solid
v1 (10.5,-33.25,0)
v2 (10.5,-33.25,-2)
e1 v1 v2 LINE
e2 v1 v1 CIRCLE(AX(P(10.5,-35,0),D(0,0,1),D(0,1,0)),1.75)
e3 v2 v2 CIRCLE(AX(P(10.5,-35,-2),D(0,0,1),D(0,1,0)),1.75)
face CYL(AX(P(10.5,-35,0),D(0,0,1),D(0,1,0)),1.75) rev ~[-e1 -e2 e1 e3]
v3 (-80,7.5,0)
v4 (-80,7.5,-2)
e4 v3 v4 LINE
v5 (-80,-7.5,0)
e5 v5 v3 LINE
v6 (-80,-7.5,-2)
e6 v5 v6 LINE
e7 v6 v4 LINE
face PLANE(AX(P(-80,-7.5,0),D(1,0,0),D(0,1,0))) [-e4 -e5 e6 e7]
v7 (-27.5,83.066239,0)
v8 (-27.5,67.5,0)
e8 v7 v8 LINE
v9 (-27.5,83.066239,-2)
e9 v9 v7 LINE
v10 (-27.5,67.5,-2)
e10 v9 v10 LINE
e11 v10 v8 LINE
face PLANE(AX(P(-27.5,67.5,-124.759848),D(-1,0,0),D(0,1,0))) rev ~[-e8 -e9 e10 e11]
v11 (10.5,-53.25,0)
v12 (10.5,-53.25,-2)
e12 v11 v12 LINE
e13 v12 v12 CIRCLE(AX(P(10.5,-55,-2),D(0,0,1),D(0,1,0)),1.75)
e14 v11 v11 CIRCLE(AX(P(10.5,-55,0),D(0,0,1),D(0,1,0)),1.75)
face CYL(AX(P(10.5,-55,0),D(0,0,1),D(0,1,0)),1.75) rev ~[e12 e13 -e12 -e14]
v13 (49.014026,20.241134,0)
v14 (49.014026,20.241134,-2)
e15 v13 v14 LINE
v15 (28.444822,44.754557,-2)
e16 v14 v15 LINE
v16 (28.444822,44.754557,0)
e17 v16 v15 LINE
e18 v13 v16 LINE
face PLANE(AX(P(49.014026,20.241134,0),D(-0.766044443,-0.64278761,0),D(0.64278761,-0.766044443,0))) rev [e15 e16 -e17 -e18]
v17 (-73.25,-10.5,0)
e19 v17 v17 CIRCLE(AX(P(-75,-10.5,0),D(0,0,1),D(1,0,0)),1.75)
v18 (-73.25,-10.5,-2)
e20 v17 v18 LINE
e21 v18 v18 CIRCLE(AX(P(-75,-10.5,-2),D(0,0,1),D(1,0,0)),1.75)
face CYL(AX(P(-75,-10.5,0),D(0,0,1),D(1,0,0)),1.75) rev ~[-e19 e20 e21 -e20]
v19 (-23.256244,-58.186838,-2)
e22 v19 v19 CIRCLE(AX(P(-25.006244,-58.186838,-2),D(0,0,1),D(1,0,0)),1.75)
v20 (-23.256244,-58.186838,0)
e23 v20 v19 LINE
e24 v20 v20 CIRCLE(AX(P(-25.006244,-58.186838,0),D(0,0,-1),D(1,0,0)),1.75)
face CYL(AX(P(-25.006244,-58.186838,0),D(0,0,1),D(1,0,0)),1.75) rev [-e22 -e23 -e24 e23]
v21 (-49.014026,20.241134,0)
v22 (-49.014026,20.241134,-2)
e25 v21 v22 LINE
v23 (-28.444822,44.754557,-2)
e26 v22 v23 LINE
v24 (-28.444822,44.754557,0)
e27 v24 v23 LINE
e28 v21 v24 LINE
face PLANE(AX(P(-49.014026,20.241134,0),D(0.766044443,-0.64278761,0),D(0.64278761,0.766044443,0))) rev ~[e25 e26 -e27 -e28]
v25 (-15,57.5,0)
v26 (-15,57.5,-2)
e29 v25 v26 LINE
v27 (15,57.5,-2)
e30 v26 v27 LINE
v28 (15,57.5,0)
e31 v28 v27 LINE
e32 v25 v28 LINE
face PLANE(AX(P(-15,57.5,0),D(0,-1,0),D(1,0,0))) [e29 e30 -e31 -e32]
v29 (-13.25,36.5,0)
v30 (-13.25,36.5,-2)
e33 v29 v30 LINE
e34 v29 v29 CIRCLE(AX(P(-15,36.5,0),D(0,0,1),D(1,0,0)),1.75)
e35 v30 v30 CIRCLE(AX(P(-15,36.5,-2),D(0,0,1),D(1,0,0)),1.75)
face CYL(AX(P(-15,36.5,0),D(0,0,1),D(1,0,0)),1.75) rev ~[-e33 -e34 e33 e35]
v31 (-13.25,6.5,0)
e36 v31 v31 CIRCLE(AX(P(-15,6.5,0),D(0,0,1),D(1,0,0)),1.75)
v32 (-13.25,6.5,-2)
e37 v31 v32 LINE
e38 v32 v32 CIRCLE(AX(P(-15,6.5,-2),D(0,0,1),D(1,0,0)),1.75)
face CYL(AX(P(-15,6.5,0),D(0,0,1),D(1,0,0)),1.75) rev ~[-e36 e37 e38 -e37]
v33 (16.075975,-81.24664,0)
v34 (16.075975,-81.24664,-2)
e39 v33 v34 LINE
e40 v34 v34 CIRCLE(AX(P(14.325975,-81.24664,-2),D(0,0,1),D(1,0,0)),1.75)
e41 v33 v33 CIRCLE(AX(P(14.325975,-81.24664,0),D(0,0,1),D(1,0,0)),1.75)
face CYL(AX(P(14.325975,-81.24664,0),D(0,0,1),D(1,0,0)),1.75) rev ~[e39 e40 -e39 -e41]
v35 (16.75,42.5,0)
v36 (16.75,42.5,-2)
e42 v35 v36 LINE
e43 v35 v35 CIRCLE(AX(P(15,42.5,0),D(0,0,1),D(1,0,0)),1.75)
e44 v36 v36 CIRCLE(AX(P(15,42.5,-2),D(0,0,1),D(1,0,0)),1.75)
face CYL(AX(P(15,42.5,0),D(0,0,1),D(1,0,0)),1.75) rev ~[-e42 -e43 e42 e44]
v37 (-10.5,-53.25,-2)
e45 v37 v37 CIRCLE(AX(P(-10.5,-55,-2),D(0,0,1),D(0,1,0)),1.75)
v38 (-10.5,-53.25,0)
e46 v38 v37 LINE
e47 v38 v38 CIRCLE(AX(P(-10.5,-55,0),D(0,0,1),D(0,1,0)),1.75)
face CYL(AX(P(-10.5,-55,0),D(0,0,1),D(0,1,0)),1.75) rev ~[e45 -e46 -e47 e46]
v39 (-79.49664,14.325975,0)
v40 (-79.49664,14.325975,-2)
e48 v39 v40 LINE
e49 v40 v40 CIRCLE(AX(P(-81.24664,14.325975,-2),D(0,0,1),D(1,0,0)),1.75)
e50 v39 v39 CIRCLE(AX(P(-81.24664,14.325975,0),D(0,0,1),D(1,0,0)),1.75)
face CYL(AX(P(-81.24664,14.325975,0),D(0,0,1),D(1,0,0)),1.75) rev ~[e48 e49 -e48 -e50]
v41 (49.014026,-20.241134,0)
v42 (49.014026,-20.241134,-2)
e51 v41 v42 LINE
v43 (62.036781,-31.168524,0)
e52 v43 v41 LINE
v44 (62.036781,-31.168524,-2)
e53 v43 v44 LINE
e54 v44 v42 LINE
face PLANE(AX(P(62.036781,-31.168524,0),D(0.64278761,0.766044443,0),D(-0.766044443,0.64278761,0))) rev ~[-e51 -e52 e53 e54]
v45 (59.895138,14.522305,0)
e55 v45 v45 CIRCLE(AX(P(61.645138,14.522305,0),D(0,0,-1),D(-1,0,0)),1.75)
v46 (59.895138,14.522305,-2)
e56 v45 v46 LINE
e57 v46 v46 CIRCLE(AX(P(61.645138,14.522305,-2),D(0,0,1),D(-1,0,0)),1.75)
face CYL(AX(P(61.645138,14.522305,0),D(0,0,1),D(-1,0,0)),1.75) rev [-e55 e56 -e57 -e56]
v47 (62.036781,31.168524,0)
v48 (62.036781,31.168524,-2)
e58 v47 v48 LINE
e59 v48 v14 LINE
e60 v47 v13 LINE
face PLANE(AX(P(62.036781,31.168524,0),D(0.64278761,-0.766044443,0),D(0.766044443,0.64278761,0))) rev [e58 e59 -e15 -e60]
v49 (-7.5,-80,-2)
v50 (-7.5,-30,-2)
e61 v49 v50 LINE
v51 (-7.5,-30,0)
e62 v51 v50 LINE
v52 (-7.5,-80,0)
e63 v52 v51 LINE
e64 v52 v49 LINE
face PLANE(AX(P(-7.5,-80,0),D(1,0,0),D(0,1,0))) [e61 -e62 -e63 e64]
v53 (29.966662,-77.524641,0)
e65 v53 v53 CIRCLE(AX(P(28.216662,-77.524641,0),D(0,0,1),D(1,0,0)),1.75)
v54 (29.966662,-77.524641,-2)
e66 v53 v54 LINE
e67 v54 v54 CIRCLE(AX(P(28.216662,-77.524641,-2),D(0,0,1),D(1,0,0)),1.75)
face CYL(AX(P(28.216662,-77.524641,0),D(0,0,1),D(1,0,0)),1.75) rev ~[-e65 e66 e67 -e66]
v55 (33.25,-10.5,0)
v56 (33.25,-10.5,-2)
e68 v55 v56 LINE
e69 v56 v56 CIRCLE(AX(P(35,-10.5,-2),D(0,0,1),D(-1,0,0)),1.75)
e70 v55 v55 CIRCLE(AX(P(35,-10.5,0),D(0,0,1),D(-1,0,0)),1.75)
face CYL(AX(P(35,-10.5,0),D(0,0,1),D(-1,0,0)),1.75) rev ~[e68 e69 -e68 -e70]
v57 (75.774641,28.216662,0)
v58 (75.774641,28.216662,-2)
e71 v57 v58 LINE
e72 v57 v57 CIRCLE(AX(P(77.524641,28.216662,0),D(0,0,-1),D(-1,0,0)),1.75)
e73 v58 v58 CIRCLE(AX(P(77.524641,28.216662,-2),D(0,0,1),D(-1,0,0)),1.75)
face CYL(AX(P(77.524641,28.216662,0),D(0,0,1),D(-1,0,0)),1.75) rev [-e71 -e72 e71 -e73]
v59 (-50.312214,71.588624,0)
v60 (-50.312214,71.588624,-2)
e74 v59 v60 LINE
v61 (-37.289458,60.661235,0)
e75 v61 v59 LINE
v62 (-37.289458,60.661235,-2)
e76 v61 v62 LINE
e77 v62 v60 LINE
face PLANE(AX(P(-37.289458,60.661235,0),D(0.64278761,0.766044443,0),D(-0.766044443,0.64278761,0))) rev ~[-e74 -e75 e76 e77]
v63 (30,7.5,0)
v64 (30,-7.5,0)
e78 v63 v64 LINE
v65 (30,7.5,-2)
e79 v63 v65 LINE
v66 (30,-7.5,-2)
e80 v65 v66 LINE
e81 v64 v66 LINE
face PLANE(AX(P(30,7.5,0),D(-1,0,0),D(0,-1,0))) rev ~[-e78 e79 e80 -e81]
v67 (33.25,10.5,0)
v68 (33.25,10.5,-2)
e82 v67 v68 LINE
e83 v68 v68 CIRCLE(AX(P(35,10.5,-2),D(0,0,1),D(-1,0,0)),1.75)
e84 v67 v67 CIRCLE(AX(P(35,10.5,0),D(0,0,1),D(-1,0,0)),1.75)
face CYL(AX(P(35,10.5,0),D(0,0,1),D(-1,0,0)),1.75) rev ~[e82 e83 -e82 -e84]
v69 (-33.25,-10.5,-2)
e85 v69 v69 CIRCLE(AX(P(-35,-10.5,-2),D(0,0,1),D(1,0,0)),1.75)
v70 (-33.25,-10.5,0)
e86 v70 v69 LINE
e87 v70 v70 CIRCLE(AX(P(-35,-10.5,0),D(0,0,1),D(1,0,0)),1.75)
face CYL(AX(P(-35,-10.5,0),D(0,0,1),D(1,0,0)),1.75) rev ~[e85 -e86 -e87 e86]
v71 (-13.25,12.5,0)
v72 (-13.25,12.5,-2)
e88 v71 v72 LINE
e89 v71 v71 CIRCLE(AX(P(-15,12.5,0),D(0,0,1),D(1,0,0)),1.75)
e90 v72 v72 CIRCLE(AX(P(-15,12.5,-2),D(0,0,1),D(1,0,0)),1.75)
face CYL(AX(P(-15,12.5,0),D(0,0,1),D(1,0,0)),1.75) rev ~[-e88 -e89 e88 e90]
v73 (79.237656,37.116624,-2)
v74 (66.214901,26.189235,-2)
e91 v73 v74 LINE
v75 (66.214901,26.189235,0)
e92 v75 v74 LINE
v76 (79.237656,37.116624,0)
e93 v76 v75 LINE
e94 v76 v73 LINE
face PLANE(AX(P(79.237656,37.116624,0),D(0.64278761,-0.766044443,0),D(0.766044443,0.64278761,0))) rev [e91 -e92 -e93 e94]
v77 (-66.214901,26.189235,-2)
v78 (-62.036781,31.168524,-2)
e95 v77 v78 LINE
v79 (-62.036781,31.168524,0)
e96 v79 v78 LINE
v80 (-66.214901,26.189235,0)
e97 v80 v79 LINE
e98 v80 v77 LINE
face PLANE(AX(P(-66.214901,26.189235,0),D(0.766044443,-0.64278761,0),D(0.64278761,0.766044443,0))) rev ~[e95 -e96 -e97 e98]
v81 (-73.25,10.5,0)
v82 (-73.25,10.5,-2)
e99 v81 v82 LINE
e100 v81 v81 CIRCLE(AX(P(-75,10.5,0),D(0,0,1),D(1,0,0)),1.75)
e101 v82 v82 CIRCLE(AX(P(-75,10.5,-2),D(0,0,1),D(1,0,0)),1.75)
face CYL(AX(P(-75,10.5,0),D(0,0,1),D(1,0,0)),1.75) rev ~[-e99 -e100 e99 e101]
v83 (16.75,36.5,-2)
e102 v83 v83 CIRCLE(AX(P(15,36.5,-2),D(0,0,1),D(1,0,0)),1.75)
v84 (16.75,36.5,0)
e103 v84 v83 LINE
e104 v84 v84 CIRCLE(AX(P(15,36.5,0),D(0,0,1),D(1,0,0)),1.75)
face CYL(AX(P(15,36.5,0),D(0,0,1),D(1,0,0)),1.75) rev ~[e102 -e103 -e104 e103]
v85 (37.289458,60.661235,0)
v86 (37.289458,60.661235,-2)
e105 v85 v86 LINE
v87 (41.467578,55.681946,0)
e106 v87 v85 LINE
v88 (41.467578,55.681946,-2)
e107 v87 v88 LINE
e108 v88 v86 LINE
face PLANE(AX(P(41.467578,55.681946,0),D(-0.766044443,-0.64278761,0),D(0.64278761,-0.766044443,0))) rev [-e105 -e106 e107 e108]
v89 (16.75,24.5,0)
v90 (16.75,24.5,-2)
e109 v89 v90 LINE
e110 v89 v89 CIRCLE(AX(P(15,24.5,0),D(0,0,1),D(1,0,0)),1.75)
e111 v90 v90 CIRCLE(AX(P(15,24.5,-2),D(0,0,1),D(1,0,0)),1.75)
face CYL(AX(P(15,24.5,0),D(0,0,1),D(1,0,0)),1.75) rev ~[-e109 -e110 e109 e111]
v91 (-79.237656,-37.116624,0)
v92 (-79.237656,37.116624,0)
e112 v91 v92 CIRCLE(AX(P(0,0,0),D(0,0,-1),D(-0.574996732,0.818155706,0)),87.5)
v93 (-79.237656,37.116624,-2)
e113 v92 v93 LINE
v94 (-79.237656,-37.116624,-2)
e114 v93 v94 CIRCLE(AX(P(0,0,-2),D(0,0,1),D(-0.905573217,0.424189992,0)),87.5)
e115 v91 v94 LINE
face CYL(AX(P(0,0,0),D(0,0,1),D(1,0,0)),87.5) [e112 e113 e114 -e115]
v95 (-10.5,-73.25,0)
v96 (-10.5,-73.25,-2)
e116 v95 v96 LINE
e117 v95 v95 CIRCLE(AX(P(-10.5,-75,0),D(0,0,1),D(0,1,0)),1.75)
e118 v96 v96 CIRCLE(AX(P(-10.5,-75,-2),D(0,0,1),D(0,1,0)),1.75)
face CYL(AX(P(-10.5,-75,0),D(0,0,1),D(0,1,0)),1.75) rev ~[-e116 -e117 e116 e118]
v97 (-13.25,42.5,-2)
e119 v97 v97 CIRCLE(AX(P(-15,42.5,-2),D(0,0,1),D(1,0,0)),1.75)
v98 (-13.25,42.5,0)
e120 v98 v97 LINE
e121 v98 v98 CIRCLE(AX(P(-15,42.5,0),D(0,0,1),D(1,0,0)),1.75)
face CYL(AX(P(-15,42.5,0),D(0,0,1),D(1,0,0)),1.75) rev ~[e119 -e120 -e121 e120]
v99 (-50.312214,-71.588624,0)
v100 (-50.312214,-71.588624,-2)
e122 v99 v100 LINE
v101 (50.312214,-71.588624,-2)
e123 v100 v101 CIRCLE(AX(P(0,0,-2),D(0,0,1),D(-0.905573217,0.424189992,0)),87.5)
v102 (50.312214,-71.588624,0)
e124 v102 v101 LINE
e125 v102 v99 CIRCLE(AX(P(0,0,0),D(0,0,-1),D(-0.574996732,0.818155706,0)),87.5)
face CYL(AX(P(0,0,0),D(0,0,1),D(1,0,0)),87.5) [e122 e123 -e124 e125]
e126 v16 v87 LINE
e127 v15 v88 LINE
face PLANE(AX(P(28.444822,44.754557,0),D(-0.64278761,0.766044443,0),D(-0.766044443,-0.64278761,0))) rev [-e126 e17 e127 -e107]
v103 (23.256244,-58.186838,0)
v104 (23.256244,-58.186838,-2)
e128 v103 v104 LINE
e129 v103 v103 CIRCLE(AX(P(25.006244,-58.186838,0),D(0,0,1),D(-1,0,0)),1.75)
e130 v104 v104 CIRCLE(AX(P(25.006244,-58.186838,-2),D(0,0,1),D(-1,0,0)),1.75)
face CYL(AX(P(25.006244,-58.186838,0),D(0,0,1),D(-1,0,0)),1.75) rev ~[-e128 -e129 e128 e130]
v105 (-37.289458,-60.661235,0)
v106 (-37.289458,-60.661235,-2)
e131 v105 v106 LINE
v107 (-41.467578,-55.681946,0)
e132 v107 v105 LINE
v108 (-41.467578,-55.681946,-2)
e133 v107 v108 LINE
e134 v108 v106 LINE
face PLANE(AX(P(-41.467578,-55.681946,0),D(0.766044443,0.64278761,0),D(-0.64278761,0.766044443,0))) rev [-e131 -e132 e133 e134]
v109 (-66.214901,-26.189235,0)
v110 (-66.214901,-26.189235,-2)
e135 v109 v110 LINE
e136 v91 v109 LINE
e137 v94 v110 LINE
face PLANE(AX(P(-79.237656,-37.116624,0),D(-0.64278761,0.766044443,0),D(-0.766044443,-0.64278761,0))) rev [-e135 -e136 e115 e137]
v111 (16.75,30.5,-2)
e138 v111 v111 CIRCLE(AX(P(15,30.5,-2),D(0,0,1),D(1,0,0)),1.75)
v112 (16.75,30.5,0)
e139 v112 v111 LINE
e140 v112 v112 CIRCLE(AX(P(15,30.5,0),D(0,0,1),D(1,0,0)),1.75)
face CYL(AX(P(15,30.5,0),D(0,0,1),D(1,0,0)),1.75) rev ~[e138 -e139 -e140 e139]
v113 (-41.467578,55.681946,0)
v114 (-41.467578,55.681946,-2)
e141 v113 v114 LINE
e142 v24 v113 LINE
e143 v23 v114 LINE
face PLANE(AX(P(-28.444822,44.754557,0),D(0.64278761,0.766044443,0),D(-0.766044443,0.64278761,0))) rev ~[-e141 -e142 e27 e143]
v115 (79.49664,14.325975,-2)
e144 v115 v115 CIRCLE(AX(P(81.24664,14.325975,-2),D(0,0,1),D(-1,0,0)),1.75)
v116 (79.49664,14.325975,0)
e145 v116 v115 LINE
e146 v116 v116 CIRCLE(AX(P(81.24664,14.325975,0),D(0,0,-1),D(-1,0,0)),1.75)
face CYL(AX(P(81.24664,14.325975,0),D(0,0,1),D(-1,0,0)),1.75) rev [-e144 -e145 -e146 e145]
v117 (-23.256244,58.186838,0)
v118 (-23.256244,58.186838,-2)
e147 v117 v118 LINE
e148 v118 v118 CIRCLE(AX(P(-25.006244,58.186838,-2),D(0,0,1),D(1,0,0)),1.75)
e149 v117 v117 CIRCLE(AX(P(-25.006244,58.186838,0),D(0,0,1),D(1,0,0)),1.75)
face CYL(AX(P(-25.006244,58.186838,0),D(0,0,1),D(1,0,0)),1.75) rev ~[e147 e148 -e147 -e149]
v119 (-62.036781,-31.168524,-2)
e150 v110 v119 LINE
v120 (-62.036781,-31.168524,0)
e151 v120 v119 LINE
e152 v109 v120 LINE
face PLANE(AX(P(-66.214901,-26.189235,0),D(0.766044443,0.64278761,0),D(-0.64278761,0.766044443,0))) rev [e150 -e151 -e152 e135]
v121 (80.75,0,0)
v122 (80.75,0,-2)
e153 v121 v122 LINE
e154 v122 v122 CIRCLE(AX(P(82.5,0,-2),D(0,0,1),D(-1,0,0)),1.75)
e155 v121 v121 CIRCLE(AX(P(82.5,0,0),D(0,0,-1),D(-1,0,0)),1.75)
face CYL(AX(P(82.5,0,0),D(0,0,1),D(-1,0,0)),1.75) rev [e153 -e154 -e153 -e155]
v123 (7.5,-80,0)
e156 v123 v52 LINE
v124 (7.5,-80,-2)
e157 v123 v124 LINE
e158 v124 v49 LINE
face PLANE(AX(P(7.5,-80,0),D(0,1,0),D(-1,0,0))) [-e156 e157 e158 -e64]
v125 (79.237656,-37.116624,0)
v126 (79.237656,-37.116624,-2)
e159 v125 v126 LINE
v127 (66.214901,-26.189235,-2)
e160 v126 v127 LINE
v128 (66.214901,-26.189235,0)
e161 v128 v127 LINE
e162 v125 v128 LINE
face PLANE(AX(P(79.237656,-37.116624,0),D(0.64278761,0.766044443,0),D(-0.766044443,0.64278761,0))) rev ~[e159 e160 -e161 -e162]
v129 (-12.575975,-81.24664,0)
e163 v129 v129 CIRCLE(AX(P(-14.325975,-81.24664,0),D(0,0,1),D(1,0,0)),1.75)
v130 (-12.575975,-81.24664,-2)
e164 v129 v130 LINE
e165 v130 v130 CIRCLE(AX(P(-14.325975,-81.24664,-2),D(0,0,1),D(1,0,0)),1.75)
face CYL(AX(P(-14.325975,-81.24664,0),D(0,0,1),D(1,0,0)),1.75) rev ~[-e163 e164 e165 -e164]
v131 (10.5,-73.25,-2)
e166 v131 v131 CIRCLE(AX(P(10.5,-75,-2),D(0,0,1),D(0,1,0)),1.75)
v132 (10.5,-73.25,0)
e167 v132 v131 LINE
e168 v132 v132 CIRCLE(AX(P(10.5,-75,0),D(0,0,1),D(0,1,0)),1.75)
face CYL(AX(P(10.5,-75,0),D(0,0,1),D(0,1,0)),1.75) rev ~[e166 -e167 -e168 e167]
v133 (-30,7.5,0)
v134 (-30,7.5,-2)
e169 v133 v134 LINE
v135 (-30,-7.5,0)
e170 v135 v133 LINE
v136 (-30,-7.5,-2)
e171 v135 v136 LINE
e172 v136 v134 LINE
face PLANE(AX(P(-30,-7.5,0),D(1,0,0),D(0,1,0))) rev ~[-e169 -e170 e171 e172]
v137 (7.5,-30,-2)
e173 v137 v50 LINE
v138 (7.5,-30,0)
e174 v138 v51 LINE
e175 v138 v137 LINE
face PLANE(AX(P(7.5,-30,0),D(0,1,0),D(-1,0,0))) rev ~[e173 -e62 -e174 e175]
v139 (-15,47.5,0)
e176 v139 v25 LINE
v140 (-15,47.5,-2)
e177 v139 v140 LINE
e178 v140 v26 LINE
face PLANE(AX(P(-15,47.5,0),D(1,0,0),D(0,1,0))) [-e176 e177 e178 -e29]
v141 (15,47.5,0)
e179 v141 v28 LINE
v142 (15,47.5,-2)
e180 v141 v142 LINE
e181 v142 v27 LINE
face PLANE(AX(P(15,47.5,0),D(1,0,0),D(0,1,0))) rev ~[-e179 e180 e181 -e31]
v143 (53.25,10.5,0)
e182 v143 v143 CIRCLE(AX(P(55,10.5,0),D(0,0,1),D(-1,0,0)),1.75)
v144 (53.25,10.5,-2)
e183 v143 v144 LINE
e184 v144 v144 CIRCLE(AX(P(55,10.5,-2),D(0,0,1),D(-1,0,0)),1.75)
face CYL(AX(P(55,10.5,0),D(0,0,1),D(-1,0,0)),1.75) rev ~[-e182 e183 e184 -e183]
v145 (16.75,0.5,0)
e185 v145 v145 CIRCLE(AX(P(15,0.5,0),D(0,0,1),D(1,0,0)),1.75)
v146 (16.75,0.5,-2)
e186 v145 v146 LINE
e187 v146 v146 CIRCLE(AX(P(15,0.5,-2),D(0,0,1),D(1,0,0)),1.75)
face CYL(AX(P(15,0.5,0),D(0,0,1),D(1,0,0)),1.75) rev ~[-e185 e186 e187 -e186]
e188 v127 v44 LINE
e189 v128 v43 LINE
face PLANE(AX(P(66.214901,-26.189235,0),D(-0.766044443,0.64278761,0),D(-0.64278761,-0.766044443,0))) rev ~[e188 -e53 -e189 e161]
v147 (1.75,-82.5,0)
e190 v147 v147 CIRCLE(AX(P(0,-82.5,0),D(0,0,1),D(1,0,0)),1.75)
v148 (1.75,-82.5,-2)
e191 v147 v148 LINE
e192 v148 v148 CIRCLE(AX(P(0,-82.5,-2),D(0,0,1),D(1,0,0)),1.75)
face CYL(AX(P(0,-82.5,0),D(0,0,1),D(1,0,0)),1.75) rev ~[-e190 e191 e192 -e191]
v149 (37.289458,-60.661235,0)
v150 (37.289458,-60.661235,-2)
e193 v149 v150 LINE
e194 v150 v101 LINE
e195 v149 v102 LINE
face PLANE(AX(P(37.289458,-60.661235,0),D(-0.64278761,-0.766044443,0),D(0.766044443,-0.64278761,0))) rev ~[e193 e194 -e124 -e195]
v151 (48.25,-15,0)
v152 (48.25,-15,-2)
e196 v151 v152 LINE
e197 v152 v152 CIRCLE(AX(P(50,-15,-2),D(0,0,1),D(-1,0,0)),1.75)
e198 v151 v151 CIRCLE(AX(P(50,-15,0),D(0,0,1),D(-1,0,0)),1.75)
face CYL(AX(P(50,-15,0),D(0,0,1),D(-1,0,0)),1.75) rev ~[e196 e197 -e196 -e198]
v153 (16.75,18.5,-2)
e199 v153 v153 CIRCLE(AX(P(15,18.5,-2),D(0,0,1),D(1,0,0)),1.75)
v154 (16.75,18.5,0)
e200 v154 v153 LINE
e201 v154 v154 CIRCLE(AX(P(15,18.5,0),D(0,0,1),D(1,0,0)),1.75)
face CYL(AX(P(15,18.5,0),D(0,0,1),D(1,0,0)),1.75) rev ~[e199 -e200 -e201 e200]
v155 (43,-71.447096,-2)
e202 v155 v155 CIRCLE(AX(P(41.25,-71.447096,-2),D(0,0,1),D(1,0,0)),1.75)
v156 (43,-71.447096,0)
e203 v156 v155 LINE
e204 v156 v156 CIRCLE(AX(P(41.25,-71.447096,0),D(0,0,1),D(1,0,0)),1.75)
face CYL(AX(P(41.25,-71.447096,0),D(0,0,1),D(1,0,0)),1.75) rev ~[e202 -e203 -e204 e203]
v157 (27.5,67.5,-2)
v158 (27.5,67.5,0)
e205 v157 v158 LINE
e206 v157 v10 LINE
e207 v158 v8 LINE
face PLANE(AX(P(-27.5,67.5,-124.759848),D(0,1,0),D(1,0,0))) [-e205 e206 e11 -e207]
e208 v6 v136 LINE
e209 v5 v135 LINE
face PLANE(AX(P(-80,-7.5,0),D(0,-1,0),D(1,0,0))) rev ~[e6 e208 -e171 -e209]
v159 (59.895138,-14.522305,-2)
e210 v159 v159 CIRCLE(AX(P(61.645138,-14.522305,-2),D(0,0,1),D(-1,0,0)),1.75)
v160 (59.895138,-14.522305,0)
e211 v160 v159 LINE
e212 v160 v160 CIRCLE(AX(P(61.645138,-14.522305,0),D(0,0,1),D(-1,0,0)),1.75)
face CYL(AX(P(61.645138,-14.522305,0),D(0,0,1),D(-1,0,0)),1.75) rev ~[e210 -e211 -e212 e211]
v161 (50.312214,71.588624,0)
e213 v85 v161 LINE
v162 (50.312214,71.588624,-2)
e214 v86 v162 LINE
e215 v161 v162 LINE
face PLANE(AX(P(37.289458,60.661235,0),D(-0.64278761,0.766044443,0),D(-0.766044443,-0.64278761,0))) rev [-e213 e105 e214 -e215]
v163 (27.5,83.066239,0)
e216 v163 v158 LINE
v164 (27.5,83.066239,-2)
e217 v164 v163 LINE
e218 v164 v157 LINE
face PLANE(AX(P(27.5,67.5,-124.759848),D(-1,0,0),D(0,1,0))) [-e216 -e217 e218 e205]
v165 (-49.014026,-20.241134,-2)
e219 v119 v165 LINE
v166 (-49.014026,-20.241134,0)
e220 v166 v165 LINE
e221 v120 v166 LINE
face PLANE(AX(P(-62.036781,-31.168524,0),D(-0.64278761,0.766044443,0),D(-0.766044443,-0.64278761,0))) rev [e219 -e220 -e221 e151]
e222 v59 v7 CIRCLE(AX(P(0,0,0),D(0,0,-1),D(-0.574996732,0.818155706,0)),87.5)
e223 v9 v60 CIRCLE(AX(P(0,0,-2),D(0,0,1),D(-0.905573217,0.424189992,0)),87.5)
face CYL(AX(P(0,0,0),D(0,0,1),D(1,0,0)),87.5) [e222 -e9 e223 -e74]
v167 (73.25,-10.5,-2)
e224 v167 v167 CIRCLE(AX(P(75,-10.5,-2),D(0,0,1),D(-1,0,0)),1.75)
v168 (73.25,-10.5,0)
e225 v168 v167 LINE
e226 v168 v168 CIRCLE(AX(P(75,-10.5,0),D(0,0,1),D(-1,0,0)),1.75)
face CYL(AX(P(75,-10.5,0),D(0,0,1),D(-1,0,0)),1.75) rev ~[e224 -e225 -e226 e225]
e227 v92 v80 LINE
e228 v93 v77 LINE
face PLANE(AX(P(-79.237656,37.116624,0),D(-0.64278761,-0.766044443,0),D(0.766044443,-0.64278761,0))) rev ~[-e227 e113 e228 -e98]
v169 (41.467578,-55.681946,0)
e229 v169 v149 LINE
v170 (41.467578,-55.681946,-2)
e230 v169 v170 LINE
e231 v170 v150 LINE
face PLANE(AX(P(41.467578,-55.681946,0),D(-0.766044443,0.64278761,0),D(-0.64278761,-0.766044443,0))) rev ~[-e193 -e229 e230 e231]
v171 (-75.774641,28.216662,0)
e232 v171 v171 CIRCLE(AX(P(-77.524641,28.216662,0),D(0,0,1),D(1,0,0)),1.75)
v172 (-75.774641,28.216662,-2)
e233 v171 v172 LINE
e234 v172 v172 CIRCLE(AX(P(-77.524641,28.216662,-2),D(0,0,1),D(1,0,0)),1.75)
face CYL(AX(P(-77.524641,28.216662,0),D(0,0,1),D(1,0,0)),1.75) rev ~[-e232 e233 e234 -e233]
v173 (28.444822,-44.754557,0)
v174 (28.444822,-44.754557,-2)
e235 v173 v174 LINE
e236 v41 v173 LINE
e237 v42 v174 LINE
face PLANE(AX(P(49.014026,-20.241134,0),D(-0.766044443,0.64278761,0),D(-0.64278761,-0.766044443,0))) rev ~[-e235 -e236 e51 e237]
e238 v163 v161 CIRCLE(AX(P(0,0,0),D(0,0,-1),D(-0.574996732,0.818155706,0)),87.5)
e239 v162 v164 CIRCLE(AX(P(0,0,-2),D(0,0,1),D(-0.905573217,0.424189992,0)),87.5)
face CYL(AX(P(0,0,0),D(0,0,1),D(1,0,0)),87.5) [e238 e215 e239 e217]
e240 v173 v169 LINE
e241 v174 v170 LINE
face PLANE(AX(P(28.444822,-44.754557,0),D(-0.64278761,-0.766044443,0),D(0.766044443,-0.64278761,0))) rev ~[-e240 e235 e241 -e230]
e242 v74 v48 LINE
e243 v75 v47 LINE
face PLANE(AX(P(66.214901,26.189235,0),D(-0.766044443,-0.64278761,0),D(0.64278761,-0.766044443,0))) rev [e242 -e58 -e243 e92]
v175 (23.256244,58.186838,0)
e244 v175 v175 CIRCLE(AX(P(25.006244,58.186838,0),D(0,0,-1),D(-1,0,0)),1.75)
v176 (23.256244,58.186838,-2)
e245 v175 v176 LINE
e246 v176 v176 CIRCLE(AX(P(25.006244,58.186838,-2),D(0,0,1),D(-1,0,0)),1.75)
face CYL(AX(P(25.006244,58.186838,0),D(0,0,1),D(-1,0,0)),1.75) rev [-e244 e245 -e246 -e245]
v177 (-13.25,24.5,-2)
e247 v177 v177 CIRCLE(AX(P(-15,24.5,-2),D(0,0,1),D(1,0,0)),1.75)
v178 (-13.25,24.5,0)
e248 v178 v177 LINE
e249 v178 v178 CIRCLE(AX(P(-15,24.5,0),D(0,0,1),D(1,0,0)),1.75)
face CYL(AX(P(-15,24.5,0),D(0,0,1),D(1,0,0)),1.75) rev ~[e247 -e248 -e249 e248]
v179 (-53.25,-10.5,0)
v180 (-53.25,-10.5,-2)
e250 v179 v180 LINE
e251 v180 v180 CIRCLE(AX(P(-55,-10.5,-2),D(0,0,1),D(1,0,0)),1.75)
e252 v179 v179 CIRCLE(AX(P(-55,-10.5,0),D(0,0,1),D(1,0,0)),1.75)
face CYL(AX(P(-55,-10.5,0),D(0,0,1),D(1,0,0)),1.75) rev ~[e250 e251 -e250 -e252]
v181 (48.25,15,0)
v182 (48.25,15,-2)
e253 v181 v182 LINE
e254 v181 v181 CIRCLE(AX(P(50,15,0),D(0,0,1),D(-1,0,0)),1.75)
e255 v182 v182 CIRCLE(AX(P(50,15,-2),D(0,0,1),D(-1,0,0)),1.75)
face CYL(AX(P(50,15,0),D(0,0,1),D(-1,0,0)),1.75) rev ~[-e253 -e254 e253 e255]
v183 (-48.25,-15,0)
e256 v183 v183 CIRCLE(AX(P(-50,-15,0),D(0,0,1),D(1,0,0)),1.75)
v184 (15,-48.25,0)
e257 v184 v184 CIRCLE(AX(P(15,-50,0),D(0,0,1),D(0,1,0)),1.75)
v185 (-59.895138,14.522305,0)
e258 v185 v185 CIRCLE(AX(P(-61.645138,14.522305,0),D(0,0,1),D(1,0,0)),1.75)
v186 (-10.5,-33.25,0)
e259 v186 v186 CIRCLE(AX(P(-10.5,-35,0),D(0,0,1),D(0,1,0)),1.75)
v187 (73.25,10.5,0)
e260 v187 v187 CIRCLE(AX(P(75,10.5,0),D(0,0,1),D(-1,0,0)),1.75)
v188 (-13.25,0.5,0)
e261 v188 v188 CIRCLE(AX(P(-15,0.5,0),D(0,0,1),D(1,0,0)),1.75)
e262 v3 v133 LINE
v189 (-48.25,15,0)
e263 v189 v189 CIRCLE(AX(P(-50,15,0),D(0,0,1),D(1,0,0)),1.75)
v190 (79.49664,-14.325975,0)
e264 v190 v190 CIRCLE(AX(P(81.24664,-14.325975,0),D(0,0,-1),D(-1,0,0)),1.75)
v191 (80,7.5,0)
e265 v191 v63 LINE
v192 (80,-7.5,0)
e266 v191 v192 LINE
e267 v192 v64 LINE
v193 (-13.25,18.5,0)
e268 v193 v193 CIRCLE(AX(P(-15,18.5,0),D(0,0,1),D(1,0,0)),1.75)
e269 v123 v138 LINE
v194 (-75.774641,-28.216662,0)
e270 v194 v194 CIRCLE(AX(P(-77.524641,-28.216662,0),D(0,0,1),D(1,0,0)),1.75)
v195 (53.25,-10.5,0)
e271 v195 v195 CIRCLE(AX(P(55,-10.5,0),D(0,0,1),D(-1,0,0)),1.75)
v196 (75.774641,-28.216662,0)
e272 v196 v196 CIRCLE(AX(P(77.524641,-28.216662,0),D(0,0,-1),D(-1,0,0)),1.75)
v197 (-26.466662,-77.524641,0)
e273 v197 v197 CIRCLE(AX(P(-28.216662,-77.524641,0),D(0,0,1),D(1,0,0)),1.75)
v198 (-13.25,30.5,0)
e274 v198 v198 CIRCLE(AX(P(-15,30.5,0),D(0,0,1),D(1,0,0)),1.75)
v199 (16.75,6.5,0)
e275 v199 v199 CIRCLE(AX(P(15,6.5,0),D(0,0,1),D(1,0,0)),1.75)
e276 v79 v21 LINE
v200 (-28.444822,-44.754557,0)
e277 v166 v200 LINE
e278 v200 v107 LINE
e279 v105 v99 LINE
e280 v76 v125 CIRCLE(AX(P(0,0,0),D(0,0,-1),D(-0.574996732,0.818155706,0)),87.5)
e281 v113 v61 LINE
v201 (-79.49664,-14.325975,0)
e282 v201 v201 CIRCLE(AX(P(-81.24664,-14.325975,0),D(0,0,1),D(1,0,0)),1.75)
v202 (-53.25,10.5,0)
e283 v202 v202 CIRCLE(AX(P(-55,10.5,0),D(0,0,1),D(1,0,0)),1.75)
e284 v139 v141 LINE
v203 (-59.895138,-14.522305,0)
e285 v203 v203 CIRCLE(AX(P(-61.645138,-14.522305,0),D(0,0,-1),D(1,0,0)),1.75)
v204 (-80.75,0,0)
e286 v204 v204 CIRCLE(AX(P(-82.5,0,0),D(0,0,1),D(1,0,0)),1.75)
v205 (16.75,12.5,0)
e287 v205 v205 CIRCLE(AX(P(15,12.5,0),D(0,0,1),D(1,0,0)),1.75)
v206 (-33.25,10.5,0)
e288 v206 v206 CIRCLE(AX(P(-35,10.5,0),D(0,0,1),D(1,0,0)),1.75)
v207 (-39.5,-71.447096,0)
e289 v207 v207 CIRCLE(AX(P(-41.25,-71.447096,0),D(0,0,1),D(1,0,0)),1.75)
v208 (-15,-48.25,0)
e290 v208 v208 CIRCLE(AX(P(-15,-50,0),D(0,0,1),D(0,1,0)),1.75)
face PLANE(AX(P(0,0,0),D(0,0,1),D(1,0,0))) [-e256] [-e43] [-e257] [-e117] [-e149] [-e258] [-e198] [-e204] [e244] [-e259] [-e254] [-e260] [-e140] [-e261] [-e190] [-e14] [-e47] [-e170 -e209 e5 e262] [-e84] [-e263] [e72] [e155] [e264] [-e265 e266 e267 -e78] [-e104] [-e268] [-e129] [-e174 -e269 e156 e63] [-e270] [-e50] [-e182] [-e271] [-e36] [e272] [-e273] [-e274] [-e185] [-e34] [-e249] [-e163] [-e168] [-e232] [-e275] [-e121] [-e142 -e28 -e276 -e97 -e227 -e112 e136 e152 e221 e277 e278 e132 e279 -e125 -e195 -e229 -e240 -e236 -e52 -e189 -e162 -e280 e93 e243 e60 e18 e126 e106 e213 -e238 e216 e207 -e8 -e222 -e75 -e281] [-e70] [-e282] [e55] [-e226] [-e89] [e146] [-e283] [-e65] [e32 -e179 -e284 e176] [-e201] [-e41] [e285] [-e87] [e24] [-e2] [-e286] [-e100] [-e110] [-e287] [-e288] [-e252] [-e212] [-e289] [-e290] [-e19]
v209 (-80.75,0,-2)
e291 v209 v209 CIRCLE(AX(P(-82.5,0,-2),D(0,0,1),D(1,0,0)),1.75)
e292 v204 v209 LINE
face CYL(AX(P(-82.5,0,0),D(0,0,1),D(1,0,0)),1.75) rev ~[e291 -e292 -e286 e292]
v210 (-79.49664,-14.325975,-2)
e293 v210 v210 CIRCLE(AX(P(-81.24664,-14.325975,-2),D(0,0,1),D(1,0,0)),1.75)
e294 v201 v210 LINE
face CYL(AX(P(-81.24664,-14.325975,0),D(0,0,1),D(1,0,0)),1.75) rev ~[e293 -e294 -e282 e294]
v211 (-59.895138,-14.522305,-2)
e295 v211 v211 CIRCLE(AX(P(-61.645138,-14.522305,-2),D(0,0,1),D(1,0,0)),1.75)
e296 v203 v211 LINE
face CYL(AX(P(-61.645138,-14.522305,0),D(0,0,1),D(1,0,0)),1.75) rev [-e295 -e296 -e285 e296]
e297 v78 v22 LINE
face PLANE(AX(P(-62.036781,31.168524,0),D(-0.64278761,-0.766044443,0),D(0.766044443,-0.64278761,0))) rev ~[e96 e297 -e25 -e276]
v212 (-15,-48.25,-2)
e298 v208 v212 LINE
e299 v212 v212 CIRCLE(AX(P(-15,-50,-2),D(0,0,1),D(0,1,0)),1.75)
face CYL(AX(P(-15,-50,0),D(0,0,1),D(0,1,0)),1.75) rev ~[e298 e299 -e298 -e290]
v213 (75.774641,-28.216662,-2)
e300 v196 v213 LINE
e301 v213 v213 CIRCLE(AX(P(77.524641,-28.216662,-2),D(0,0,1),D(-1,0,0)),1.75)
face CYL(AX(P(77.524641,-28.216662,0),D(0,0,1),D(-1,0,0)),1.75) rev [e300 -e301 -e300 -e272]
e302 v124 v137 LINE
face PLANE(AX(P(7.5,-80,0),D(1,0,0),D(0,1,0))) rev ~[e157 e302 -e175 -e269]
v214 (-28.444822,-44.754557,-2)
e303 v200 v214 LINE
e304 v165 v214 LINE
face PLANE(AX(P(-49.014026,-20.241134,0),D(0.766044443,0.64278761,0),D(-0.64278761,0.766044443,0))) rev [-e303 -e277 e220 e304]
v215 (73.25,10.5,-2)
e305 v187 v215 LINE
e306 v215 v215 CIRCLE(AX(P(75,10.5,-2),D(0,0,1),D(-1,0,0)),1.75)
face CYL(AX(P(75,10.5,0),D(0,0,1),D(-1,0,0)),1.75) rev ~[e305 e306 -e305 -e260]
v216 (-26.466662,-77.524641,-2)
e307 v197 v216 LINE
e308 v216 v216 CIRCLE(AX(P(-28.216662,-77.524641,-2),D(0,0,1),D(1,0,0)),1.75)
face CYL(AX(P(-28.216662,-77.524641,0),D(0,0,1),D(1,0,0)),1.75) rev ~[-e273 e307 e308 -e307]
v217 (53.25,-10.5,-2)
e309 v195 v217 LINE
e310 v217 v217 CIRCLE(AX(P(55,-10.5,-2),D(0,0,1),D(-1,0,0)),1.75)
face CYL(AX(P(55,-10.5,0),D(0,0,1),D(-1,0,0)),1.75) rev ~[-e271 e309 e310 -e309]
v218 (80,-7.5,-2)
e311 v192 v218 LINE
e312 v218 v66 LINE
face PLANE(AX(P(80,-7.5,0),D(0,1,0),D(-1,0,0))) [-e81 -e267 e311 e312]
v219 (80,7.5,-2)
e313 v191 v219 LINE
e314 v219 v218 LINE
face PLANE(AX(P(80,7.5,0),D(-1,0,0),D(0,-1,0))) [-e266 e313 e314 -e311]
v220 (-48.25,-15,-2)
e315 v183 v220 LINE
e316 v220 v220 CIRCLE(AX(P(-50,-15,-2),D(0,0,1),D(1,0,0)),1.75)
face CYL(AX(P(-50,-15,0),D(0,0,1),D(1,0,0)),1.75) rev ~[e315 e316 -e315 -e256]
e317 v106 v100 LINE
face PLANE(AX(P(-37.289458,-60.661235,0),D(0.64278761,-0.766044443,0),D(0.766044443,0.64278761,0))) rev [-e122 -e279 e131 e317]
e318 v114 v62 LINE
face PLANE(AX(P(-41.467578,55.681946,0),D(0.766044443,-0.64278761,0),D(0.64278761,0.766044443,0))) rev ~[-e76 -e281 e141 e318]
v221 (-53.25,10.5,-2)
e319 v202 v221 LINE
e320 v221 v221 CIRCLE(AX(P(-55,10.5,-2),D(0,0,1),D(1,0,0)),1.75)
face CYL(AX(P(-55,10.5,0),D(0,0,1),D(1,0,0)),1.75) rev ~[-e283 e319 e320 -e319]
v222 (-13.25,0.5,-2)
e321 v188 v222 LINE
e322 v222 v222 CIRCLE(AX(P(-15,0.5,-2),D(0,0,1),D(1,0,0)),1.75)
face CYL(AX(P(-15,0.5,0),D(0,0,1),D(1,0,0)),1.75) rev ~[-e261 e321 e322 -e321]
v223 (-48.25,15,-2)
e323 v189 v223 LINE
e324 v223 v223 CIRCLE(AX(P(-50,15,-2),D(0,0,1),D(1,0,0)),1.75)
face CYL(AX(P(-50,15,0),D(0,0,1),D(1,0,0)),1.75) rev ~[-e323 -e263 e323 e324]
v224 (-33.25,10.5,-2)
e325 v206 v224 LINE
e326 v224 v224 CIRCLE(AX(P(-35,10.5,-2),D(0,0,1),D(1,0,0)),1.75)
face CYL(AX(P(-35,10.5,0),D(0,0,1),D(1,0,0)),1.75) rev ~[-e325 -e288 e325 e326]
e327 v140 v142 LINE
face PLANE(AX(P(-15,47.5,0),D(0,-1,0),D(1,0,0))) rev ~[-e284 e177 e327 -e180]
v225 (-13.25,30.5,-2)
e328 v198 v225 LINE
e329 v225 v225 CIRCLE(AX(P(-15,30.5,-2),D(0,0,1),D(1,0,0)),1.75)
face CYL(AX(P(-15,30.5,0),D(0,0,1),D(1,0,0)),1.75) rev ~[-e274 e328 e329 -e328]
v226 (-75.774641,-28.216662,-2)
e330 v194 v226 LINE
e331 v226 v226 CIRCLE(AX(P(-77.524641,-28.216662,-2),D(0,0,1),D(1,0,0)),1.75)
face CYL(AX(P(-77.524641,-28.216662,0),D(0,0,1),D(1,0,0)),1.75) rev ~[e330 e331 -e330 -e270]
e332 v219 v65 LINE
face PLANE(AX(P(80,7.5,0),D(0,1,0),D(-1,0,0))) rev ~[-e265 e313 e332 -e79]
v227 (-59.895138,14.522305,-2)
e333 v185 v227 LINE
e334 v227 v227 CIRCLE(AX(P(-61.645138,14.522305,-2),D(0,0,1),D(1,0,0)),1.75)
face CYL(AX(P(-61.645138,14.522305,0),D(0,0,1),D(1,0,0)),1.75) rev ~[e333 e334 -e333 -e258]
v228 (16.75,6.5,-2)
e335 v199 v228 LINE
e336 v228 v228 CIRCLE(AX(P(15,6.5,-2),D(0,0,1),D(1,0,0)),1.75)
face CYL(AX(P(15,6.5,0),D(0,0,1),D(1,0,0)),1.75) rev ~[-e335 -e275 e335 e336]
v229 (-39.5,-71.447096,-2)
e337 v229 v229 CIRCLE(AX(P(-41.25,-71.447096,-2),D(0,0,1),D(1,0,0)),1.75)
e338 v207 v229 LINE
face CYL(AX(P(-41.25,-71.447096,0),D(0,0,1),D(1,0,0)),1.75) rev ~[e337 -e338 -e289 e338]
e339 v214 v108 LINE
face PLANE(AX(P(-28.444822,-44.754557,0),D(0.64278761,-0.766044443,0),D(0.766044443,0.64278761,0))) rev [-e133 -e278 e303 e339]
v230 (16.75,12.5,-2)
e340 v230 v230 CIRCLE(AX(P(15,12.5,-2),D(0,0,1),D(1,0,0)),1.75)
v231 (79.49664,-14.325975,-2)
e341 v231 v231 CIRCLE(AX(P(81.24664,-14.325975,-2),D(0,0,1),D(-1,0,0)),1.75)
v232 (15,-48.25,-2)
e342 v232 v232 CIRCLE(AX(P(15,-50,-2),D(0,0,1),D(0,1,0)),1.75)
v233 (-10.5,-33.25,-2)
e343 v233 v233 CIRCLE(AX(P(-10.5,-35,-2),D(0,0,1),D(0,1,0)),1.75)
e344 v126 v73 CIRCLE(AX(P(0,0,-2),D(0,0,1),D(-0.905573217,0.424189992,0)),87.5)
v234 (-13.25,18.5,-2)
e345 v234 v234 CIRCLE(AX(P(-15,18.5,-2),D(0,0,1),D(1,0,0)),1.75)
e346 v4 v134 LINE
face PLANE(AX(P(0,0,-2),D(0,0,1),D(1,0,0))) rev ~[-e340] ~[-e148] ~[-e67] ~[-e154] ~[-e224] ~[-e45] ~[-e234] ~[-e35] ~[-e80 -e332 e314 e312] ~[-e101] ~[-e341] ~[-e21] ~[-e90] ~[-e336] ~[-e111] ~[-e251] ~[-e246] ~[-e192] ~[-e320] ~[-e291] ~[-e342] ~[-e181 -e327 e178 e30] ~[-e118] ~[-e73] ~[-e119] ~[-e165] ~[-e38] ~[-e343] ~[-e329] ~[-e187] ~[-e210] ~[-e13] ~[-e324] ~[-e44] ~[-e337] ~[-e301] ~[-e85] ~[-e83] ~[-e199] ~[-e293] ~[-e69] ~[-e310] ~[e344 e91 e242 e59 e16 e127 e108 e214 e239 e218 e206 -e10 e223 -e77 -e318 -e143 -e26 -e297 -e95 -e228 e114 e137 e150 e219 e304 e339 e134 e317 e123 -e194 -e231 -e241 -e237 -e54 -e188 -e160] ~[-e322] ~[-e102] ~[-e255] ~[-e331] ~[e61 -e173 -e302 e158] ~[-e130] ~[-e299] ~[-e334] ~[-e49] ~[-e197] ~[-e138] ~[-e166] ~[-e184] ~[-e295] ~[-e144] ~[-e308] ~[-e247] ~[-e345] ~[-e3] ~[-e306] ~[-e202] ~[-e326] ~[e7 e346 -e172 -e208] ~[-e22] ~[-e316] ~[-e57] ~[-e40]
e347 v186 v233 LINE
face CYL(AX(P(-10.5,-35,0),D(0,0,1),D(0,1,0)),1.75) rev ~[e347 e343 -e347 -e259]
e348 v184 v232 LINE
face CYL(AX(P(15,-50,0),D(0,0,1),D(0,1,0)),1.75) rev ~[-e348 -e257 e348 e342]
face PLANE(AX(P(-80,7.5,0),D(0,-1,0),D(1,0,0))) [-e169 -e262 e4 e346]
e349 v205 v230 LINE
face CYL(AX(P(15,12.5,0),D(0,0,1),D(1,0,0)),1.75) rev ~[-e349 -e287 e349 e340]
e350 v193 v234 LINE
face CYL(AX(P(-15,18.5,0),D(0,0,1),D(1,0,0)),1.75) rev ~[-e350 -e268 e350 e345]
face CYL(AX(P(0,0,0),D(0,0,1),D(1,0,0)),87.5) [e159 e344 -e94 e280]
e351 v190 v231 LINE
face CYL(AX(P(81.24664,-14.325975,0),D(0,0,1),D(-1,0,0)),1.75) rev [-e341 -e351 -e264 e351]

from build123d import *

# Parameters (mm, degrees)
SKETCH1_R                                  = 87.5
BOSS_EXTRUDE1_DEPTH                        = 2
SKETCH3_R                                  = 1.75
CUT_EXTRUDE1_DEPTH                         = 124.759848093
MIRROR1_AT_THE_SECOND_PLANE_COPY_1_SKETC_R = 1.75
MIRROR1_AT_THE_SECOND_PLANE_COPY_1_DEPTH   = 124.759848093
CUT_EXTRUDE2_DEPTH                         = 124.759848093
CUT_EXTRUDE2_DEPTH_BACK                    = 124.759848093
SKETCH4_W                                  = 55
SKETCH4_H                                  = 40
SKETCH5_R                                  = 1.75
CUT_EXTRUDE3_DEPTH                         = 124.759848093
SKETCH8_W                                  = 50
SKETCH8_H                                  = 15
CUT_EXTRUDE4_DEPTH                         = 124.759848093
SKETCH9_R                                  = 1.75
CUT_EXTRUDE5_DEPTH                         = 124.759848093
CIRPATTERN1_COUNT                          = 3
CIRPATTERN1_ANGLE                          = 180
SKETCH10_W                                 = 30
SKETCH10_H                                 = 10
CUT_EXTRUDE6_DEPTH                         = 124.759848093
SKETCH11_R                                 = 1.75
CUT_EXTRUDE7_DEPTH                         = 124.759848093
SKETCH12_R                                 = 1.75
CUT_EXTRUDE8_DEPTH                         = 124.759848093
SKETCH13_R                                 = 1.75
CUT_EXTRUDE9_DEPTH                         = 124.759848093


with BuildPart() as part:
    # Sketch1 → Boss-Extrude1 (new body)
    with BuildSketch(Plane.XY):
        Circle(SKETCH1_R)
    extrude(amount=-BOSS_EXTRUDE1_DEPTH)

    # Sketch3 → Cut-Extrude1 (cut, through all)
    with BuildSketch(Plane.XY):
        with BuildLine():
            Line((-62.036781461, 31.168523814), (-49.014025927, 20.241134449))
            Line((-49.014025927, 20.241134449), (-28.444822418, 44.754556629))
            Line((-28.444822418, 44.754556629), (-41.467577951, 55.681945993))
            Line((-41.467577951, 55.681945993), (-37.289458488, 60.661234874))
            Line((-37.289458488, 60.661234874), (-50.312214021, 71.588624238))
            ThreePointArc((-50.312214021, 71.588624238), (-67.028888773, 56.243915848), (-79.237656457, 37.116624298))
            Line((-79.237656457, 37.116624298), (-66.214900923, 26.189234933))
            Line((-66.214900923, 26.189234933), (-62.036781461, 31.168523814))
        make_face()
        with Locations((-61.645137707, 14.522304568)):
            Circle(SKETCH3_R)
        with Locations((-25.006243955, 58.186837826)):
            Circle(SKETCH3_R)
    cut_extrude1 = extrude(amount=-CUT_EXTRUDE1_DEPTH, mode=Mode.SUBTRACT)

    # Mirror1: Cut-Extrude1 across plane
    add(cut_extrude1.mirror(Plane(origin=(0, 0, 0), x_dir=(0, 0, 1), z_dir=(1, 0, 0))), mode=Mode.SUBTRACT)

    # Mirror1 at the second plane: Cut-Extrude1 across plane
    add(cut_extrude1.mirror(Plane.ZX), mode=Mode.SUBTRACT)

    # Mirror1 at the second plane copy 1 sketc → Mirror1 at the second plane copy 1 (cut, through all)
    with BuildSketch(Plane(origin=(0, 0, 0), x_dir=(-1, 0, 0), z_dir=(0, 0, 1))):
        with BuildLine():
            Line((-62.036781461, 31.168523814), (-49.014025927, 20.241134449))
            Line((-49.014025927, 20.241134449), (-28.444822418, 44.754556629))
            Line((-28.444822418, 44.754556629), (-41.467577951, 55.681945993))
            Line((-41.467577951, 55.681945993), (-37.289458488, 60.661234874))
            Line((-37.289458488, 60.661234874), (-50.312214021, 71.588624238))
            ThreePointArc((-50.312214021, 71.588624238), (-67.028888773, 56.243915848), (-79.237656457, 37.116624298))
            Line((-79.237656457, 37.116624298), (-66.214900923, 26.189234933))
            Line((-66.214900923, 26.189234933), (-62.036781461, 31.168523814))
        make_face()
        with Locations((-61.645137707, 14.522304568)):
            Circle(MIRROR1_AT_THE_SECOND_PLANE_COPY_1_SKETC_R)
        with Locations((-25.006243955, 58.186837826)):
            Circle(MIRROR1_AT_THE_SECOND_PLANE_COPY_1_SKETC_R)
    extrude(amount=-MIRROR1_AT_THE_SECOND_PLANE_COPY_1_DEPTH, mode=Mode.SUBTRACT)

    # Sketch4 → Cut-Extrude2 (cut, two sides: drawn at the far end of the back side and taken through both)
    with BuildSketch(Plane.XY.offset(-CUT_EXTRUDE2_DEPTH_BACK)):
        with Locations((0, 87.5)):
            Rectangle(SKETCH4_W, SKETCH4_H)
    extrude(amount=CUT_EXTRUDE2_DEPTH + CUT_EXTRUDE2_DEPTH_BACK, mode=Mode.SUBTRACT)

    # Sketch5 → Cut-Extrude3 (cut, through all)
    with BuildSketch(Plane.XY):
        with Locations((-50, 15)):
            Circle(SKETCH5_R)
        with Locations((-50, -15)):
            Circle(SKETCH5_R)
    cut_extrude3 = extrude(amount=-CUT_EXTRUDE3_DEPTH, mode=Mode.SUBTRACT)

    # Sketch8 → Cut-Extrude4 (cut, through all)
    with BuildSketch(Plane.XY):
        with Locations((-55, 0)):
            Rectangle(SKETCH8_W, SKETCH8_H)
    cut_extrude4 = extrude(amount=-CUT_EXTRUDE4_DEPTH, mode=Mode.SUBTRACT)

    # Sketch9 → Cut-Extrude5 (cut, through all)
    with BuildSketch(Plane.XY):
        with Locations((-35, 10.5)):
            Circle(SKETCH9_R)
        with Locations((-35, -10.5)):
            Circle(SKETCH9_R)
        with Locations((-55, 10.5)):
            Circle(SKETCH9_R)
        with Locations((-55, -10.5)):
            Circle(SKETCH9_R)
        with Locations((-75, 10.5)):
            Circle(SKETCH9_R)
        with Locations((-75, -10.5)):
            Circle(SKETCH9_R)
    cut_extrude5 = extrude(amount=-CUT_EXTRUDE5_DEPTH, mode=Mode.SUBTRACT)

    # CirPattern1: Cut-Extrude3, Cut-Extrude4, Cut-Extrude5 ×3 about axis
    cirpattern1_axis = Axis((0, 0, 0), (0, 0, 1))
    add([cut_extrude3.rotate(cirpattern1_axis, i * CIRPATTERN1_ANGLE / (CIRPATTERN1_COUNT - 1)) for i in range(1, CIRPATTERN1_COUNT)], mode=Mode.SUBTRACT)
    add([cut_extrude4.rotate(cirpattern1_axis, i * CIRPATTERN1_ANGLE / (CIRPATTERN1_COUNT - 1)) for i in range(1, CIRPATTERN1_COUNT)], mode=Mode.SUBTRACT)
    add([cut_extrude5.rotate(cirpattern1_axis, i * CIRPATTERN1_ANGLE / (CIRPATTERN1_COUNT - 1)) for i in range(1, CIRPATTERN1_COUNT)], mode=Mode.SUBTRACT)

    # Sketch10 → Cut-Extrude6 (cut, through all)
    with BuildSketch(Plane.XY):
        with Locations((0, 52.5)):
            Rectangle(SKETCH10_W, SKETCH10_H)
    extrude(amount=-CUT_EXTRUDE6_DEPTH, mode=Mode.SUBTRACT)

    # Sketch11 → Cut-Extrude7 (cut, through all)
    with BuildSketch(Plane.XY):
        with Locations((-15, 42.5)):
            Circle(SKETCH11_R)
        with Locations((15, 42.5)):
            Circle(SKETCH11_R)
        with Locations((-15, 36.5)):
            Circle(SKETCH11_R)
        with Locations((15, 36.5)):
            Circle(SKETCH11_R)
        with Locations((-15, 30.5)):
            Circle(SKETCH11_R)
        with Locations((15, 30.5)):
            Circle(SKETCH11_R)
        with Locations((-15, 24.5)):
            Circle(SKETCH11_R)
        with Locations((15, 24.5)):
            Circle(SKETCH11_R)
        with Locations((-15, 18.5)):
            Circle(SKETCH11_R)
        with Locations((15, 18.5)):
            Circle(SKETCH11_R)
        with Locations((-15, 12.5)):
            Circle(SKETCH11_R)
        with Locations((15, 12.5)):
            Circle(SKETCH11_R)
        with Locations((-15, 6.5)):
            Circle(SKETCH11_R)
        with Locations((15, 6.5)):
            Circle(SKETCH11_R)
        with Locations((-15, 0.5)):
            Circle(SKETCH11_R)
        with Locations((15, 0.5)):
            Circle(SKETCH11_R)
    extrude(amount=-CUT_EXTRUDE7_DEPTH, mode=Mode.SUBTRACT)

    # Sketch12 → Cut-Extrude8 (cut, through all)
    with BuildSketch(Plane.XY):
        with Locations((-77.524641215, 28.216661824)):
            Circle(SKETCH12_R)
        with Locations((-81.246639624, 14.325974658)):
            Circle(SKETCH12_R)
        with Locations((-82.5, 0)):
            Circle(SKETCH12_R)
        with Locations((-81.246639624, -14.325974658)):
            Circle(SKETCH12_R)
        with Locations((-77.524641215, -28.216661824)):
            Circle(SKETCH12_R)
    cut_extrude8 = extrude(amount=-CUT_EXTRUDE8_DEPTH, mode=Mode.SUBTRACT)

    # Mirror2: Cut-Extrude8 across plane
    add(cut_extrude8.mirror(Plane(origin=(0, 0, 0), x_dir=(0, 0, 1), z_dir=(1, 0, 0))), mode=Mode.SUBTRACT)

    # Sketch13 → Cut-Extrude9 (cut, through all)
    with BuildSketch(Plane.XY):
        with Locations((-41.25, -71.447095812)):
            Circle(SKETCH13_R)
        with Locations((-28.216661824, -77.524641215)):
            Circle(SKETCH13_R)
        with Locations((-14.325974658, -81.246639624)):
            Circle(SKETCH13_R)
        with Locations((0, -82.5)):
            Circle(SKETCH13_R)
        with Locations((14.325974658, -81.246639624)):
            Circle(SKETCH13_R)
        with Locations((28.216661824, -77.524641215)):
            Circle(SKETCH13_R)
        with Locations((41.25, -71.447095812)):
            Circle(SKETCH13_R)
    extrude(amount=-CUT_EXTRUDE9_DEPTH, mode=Mode.SUBTRACT)


solid = part.part
